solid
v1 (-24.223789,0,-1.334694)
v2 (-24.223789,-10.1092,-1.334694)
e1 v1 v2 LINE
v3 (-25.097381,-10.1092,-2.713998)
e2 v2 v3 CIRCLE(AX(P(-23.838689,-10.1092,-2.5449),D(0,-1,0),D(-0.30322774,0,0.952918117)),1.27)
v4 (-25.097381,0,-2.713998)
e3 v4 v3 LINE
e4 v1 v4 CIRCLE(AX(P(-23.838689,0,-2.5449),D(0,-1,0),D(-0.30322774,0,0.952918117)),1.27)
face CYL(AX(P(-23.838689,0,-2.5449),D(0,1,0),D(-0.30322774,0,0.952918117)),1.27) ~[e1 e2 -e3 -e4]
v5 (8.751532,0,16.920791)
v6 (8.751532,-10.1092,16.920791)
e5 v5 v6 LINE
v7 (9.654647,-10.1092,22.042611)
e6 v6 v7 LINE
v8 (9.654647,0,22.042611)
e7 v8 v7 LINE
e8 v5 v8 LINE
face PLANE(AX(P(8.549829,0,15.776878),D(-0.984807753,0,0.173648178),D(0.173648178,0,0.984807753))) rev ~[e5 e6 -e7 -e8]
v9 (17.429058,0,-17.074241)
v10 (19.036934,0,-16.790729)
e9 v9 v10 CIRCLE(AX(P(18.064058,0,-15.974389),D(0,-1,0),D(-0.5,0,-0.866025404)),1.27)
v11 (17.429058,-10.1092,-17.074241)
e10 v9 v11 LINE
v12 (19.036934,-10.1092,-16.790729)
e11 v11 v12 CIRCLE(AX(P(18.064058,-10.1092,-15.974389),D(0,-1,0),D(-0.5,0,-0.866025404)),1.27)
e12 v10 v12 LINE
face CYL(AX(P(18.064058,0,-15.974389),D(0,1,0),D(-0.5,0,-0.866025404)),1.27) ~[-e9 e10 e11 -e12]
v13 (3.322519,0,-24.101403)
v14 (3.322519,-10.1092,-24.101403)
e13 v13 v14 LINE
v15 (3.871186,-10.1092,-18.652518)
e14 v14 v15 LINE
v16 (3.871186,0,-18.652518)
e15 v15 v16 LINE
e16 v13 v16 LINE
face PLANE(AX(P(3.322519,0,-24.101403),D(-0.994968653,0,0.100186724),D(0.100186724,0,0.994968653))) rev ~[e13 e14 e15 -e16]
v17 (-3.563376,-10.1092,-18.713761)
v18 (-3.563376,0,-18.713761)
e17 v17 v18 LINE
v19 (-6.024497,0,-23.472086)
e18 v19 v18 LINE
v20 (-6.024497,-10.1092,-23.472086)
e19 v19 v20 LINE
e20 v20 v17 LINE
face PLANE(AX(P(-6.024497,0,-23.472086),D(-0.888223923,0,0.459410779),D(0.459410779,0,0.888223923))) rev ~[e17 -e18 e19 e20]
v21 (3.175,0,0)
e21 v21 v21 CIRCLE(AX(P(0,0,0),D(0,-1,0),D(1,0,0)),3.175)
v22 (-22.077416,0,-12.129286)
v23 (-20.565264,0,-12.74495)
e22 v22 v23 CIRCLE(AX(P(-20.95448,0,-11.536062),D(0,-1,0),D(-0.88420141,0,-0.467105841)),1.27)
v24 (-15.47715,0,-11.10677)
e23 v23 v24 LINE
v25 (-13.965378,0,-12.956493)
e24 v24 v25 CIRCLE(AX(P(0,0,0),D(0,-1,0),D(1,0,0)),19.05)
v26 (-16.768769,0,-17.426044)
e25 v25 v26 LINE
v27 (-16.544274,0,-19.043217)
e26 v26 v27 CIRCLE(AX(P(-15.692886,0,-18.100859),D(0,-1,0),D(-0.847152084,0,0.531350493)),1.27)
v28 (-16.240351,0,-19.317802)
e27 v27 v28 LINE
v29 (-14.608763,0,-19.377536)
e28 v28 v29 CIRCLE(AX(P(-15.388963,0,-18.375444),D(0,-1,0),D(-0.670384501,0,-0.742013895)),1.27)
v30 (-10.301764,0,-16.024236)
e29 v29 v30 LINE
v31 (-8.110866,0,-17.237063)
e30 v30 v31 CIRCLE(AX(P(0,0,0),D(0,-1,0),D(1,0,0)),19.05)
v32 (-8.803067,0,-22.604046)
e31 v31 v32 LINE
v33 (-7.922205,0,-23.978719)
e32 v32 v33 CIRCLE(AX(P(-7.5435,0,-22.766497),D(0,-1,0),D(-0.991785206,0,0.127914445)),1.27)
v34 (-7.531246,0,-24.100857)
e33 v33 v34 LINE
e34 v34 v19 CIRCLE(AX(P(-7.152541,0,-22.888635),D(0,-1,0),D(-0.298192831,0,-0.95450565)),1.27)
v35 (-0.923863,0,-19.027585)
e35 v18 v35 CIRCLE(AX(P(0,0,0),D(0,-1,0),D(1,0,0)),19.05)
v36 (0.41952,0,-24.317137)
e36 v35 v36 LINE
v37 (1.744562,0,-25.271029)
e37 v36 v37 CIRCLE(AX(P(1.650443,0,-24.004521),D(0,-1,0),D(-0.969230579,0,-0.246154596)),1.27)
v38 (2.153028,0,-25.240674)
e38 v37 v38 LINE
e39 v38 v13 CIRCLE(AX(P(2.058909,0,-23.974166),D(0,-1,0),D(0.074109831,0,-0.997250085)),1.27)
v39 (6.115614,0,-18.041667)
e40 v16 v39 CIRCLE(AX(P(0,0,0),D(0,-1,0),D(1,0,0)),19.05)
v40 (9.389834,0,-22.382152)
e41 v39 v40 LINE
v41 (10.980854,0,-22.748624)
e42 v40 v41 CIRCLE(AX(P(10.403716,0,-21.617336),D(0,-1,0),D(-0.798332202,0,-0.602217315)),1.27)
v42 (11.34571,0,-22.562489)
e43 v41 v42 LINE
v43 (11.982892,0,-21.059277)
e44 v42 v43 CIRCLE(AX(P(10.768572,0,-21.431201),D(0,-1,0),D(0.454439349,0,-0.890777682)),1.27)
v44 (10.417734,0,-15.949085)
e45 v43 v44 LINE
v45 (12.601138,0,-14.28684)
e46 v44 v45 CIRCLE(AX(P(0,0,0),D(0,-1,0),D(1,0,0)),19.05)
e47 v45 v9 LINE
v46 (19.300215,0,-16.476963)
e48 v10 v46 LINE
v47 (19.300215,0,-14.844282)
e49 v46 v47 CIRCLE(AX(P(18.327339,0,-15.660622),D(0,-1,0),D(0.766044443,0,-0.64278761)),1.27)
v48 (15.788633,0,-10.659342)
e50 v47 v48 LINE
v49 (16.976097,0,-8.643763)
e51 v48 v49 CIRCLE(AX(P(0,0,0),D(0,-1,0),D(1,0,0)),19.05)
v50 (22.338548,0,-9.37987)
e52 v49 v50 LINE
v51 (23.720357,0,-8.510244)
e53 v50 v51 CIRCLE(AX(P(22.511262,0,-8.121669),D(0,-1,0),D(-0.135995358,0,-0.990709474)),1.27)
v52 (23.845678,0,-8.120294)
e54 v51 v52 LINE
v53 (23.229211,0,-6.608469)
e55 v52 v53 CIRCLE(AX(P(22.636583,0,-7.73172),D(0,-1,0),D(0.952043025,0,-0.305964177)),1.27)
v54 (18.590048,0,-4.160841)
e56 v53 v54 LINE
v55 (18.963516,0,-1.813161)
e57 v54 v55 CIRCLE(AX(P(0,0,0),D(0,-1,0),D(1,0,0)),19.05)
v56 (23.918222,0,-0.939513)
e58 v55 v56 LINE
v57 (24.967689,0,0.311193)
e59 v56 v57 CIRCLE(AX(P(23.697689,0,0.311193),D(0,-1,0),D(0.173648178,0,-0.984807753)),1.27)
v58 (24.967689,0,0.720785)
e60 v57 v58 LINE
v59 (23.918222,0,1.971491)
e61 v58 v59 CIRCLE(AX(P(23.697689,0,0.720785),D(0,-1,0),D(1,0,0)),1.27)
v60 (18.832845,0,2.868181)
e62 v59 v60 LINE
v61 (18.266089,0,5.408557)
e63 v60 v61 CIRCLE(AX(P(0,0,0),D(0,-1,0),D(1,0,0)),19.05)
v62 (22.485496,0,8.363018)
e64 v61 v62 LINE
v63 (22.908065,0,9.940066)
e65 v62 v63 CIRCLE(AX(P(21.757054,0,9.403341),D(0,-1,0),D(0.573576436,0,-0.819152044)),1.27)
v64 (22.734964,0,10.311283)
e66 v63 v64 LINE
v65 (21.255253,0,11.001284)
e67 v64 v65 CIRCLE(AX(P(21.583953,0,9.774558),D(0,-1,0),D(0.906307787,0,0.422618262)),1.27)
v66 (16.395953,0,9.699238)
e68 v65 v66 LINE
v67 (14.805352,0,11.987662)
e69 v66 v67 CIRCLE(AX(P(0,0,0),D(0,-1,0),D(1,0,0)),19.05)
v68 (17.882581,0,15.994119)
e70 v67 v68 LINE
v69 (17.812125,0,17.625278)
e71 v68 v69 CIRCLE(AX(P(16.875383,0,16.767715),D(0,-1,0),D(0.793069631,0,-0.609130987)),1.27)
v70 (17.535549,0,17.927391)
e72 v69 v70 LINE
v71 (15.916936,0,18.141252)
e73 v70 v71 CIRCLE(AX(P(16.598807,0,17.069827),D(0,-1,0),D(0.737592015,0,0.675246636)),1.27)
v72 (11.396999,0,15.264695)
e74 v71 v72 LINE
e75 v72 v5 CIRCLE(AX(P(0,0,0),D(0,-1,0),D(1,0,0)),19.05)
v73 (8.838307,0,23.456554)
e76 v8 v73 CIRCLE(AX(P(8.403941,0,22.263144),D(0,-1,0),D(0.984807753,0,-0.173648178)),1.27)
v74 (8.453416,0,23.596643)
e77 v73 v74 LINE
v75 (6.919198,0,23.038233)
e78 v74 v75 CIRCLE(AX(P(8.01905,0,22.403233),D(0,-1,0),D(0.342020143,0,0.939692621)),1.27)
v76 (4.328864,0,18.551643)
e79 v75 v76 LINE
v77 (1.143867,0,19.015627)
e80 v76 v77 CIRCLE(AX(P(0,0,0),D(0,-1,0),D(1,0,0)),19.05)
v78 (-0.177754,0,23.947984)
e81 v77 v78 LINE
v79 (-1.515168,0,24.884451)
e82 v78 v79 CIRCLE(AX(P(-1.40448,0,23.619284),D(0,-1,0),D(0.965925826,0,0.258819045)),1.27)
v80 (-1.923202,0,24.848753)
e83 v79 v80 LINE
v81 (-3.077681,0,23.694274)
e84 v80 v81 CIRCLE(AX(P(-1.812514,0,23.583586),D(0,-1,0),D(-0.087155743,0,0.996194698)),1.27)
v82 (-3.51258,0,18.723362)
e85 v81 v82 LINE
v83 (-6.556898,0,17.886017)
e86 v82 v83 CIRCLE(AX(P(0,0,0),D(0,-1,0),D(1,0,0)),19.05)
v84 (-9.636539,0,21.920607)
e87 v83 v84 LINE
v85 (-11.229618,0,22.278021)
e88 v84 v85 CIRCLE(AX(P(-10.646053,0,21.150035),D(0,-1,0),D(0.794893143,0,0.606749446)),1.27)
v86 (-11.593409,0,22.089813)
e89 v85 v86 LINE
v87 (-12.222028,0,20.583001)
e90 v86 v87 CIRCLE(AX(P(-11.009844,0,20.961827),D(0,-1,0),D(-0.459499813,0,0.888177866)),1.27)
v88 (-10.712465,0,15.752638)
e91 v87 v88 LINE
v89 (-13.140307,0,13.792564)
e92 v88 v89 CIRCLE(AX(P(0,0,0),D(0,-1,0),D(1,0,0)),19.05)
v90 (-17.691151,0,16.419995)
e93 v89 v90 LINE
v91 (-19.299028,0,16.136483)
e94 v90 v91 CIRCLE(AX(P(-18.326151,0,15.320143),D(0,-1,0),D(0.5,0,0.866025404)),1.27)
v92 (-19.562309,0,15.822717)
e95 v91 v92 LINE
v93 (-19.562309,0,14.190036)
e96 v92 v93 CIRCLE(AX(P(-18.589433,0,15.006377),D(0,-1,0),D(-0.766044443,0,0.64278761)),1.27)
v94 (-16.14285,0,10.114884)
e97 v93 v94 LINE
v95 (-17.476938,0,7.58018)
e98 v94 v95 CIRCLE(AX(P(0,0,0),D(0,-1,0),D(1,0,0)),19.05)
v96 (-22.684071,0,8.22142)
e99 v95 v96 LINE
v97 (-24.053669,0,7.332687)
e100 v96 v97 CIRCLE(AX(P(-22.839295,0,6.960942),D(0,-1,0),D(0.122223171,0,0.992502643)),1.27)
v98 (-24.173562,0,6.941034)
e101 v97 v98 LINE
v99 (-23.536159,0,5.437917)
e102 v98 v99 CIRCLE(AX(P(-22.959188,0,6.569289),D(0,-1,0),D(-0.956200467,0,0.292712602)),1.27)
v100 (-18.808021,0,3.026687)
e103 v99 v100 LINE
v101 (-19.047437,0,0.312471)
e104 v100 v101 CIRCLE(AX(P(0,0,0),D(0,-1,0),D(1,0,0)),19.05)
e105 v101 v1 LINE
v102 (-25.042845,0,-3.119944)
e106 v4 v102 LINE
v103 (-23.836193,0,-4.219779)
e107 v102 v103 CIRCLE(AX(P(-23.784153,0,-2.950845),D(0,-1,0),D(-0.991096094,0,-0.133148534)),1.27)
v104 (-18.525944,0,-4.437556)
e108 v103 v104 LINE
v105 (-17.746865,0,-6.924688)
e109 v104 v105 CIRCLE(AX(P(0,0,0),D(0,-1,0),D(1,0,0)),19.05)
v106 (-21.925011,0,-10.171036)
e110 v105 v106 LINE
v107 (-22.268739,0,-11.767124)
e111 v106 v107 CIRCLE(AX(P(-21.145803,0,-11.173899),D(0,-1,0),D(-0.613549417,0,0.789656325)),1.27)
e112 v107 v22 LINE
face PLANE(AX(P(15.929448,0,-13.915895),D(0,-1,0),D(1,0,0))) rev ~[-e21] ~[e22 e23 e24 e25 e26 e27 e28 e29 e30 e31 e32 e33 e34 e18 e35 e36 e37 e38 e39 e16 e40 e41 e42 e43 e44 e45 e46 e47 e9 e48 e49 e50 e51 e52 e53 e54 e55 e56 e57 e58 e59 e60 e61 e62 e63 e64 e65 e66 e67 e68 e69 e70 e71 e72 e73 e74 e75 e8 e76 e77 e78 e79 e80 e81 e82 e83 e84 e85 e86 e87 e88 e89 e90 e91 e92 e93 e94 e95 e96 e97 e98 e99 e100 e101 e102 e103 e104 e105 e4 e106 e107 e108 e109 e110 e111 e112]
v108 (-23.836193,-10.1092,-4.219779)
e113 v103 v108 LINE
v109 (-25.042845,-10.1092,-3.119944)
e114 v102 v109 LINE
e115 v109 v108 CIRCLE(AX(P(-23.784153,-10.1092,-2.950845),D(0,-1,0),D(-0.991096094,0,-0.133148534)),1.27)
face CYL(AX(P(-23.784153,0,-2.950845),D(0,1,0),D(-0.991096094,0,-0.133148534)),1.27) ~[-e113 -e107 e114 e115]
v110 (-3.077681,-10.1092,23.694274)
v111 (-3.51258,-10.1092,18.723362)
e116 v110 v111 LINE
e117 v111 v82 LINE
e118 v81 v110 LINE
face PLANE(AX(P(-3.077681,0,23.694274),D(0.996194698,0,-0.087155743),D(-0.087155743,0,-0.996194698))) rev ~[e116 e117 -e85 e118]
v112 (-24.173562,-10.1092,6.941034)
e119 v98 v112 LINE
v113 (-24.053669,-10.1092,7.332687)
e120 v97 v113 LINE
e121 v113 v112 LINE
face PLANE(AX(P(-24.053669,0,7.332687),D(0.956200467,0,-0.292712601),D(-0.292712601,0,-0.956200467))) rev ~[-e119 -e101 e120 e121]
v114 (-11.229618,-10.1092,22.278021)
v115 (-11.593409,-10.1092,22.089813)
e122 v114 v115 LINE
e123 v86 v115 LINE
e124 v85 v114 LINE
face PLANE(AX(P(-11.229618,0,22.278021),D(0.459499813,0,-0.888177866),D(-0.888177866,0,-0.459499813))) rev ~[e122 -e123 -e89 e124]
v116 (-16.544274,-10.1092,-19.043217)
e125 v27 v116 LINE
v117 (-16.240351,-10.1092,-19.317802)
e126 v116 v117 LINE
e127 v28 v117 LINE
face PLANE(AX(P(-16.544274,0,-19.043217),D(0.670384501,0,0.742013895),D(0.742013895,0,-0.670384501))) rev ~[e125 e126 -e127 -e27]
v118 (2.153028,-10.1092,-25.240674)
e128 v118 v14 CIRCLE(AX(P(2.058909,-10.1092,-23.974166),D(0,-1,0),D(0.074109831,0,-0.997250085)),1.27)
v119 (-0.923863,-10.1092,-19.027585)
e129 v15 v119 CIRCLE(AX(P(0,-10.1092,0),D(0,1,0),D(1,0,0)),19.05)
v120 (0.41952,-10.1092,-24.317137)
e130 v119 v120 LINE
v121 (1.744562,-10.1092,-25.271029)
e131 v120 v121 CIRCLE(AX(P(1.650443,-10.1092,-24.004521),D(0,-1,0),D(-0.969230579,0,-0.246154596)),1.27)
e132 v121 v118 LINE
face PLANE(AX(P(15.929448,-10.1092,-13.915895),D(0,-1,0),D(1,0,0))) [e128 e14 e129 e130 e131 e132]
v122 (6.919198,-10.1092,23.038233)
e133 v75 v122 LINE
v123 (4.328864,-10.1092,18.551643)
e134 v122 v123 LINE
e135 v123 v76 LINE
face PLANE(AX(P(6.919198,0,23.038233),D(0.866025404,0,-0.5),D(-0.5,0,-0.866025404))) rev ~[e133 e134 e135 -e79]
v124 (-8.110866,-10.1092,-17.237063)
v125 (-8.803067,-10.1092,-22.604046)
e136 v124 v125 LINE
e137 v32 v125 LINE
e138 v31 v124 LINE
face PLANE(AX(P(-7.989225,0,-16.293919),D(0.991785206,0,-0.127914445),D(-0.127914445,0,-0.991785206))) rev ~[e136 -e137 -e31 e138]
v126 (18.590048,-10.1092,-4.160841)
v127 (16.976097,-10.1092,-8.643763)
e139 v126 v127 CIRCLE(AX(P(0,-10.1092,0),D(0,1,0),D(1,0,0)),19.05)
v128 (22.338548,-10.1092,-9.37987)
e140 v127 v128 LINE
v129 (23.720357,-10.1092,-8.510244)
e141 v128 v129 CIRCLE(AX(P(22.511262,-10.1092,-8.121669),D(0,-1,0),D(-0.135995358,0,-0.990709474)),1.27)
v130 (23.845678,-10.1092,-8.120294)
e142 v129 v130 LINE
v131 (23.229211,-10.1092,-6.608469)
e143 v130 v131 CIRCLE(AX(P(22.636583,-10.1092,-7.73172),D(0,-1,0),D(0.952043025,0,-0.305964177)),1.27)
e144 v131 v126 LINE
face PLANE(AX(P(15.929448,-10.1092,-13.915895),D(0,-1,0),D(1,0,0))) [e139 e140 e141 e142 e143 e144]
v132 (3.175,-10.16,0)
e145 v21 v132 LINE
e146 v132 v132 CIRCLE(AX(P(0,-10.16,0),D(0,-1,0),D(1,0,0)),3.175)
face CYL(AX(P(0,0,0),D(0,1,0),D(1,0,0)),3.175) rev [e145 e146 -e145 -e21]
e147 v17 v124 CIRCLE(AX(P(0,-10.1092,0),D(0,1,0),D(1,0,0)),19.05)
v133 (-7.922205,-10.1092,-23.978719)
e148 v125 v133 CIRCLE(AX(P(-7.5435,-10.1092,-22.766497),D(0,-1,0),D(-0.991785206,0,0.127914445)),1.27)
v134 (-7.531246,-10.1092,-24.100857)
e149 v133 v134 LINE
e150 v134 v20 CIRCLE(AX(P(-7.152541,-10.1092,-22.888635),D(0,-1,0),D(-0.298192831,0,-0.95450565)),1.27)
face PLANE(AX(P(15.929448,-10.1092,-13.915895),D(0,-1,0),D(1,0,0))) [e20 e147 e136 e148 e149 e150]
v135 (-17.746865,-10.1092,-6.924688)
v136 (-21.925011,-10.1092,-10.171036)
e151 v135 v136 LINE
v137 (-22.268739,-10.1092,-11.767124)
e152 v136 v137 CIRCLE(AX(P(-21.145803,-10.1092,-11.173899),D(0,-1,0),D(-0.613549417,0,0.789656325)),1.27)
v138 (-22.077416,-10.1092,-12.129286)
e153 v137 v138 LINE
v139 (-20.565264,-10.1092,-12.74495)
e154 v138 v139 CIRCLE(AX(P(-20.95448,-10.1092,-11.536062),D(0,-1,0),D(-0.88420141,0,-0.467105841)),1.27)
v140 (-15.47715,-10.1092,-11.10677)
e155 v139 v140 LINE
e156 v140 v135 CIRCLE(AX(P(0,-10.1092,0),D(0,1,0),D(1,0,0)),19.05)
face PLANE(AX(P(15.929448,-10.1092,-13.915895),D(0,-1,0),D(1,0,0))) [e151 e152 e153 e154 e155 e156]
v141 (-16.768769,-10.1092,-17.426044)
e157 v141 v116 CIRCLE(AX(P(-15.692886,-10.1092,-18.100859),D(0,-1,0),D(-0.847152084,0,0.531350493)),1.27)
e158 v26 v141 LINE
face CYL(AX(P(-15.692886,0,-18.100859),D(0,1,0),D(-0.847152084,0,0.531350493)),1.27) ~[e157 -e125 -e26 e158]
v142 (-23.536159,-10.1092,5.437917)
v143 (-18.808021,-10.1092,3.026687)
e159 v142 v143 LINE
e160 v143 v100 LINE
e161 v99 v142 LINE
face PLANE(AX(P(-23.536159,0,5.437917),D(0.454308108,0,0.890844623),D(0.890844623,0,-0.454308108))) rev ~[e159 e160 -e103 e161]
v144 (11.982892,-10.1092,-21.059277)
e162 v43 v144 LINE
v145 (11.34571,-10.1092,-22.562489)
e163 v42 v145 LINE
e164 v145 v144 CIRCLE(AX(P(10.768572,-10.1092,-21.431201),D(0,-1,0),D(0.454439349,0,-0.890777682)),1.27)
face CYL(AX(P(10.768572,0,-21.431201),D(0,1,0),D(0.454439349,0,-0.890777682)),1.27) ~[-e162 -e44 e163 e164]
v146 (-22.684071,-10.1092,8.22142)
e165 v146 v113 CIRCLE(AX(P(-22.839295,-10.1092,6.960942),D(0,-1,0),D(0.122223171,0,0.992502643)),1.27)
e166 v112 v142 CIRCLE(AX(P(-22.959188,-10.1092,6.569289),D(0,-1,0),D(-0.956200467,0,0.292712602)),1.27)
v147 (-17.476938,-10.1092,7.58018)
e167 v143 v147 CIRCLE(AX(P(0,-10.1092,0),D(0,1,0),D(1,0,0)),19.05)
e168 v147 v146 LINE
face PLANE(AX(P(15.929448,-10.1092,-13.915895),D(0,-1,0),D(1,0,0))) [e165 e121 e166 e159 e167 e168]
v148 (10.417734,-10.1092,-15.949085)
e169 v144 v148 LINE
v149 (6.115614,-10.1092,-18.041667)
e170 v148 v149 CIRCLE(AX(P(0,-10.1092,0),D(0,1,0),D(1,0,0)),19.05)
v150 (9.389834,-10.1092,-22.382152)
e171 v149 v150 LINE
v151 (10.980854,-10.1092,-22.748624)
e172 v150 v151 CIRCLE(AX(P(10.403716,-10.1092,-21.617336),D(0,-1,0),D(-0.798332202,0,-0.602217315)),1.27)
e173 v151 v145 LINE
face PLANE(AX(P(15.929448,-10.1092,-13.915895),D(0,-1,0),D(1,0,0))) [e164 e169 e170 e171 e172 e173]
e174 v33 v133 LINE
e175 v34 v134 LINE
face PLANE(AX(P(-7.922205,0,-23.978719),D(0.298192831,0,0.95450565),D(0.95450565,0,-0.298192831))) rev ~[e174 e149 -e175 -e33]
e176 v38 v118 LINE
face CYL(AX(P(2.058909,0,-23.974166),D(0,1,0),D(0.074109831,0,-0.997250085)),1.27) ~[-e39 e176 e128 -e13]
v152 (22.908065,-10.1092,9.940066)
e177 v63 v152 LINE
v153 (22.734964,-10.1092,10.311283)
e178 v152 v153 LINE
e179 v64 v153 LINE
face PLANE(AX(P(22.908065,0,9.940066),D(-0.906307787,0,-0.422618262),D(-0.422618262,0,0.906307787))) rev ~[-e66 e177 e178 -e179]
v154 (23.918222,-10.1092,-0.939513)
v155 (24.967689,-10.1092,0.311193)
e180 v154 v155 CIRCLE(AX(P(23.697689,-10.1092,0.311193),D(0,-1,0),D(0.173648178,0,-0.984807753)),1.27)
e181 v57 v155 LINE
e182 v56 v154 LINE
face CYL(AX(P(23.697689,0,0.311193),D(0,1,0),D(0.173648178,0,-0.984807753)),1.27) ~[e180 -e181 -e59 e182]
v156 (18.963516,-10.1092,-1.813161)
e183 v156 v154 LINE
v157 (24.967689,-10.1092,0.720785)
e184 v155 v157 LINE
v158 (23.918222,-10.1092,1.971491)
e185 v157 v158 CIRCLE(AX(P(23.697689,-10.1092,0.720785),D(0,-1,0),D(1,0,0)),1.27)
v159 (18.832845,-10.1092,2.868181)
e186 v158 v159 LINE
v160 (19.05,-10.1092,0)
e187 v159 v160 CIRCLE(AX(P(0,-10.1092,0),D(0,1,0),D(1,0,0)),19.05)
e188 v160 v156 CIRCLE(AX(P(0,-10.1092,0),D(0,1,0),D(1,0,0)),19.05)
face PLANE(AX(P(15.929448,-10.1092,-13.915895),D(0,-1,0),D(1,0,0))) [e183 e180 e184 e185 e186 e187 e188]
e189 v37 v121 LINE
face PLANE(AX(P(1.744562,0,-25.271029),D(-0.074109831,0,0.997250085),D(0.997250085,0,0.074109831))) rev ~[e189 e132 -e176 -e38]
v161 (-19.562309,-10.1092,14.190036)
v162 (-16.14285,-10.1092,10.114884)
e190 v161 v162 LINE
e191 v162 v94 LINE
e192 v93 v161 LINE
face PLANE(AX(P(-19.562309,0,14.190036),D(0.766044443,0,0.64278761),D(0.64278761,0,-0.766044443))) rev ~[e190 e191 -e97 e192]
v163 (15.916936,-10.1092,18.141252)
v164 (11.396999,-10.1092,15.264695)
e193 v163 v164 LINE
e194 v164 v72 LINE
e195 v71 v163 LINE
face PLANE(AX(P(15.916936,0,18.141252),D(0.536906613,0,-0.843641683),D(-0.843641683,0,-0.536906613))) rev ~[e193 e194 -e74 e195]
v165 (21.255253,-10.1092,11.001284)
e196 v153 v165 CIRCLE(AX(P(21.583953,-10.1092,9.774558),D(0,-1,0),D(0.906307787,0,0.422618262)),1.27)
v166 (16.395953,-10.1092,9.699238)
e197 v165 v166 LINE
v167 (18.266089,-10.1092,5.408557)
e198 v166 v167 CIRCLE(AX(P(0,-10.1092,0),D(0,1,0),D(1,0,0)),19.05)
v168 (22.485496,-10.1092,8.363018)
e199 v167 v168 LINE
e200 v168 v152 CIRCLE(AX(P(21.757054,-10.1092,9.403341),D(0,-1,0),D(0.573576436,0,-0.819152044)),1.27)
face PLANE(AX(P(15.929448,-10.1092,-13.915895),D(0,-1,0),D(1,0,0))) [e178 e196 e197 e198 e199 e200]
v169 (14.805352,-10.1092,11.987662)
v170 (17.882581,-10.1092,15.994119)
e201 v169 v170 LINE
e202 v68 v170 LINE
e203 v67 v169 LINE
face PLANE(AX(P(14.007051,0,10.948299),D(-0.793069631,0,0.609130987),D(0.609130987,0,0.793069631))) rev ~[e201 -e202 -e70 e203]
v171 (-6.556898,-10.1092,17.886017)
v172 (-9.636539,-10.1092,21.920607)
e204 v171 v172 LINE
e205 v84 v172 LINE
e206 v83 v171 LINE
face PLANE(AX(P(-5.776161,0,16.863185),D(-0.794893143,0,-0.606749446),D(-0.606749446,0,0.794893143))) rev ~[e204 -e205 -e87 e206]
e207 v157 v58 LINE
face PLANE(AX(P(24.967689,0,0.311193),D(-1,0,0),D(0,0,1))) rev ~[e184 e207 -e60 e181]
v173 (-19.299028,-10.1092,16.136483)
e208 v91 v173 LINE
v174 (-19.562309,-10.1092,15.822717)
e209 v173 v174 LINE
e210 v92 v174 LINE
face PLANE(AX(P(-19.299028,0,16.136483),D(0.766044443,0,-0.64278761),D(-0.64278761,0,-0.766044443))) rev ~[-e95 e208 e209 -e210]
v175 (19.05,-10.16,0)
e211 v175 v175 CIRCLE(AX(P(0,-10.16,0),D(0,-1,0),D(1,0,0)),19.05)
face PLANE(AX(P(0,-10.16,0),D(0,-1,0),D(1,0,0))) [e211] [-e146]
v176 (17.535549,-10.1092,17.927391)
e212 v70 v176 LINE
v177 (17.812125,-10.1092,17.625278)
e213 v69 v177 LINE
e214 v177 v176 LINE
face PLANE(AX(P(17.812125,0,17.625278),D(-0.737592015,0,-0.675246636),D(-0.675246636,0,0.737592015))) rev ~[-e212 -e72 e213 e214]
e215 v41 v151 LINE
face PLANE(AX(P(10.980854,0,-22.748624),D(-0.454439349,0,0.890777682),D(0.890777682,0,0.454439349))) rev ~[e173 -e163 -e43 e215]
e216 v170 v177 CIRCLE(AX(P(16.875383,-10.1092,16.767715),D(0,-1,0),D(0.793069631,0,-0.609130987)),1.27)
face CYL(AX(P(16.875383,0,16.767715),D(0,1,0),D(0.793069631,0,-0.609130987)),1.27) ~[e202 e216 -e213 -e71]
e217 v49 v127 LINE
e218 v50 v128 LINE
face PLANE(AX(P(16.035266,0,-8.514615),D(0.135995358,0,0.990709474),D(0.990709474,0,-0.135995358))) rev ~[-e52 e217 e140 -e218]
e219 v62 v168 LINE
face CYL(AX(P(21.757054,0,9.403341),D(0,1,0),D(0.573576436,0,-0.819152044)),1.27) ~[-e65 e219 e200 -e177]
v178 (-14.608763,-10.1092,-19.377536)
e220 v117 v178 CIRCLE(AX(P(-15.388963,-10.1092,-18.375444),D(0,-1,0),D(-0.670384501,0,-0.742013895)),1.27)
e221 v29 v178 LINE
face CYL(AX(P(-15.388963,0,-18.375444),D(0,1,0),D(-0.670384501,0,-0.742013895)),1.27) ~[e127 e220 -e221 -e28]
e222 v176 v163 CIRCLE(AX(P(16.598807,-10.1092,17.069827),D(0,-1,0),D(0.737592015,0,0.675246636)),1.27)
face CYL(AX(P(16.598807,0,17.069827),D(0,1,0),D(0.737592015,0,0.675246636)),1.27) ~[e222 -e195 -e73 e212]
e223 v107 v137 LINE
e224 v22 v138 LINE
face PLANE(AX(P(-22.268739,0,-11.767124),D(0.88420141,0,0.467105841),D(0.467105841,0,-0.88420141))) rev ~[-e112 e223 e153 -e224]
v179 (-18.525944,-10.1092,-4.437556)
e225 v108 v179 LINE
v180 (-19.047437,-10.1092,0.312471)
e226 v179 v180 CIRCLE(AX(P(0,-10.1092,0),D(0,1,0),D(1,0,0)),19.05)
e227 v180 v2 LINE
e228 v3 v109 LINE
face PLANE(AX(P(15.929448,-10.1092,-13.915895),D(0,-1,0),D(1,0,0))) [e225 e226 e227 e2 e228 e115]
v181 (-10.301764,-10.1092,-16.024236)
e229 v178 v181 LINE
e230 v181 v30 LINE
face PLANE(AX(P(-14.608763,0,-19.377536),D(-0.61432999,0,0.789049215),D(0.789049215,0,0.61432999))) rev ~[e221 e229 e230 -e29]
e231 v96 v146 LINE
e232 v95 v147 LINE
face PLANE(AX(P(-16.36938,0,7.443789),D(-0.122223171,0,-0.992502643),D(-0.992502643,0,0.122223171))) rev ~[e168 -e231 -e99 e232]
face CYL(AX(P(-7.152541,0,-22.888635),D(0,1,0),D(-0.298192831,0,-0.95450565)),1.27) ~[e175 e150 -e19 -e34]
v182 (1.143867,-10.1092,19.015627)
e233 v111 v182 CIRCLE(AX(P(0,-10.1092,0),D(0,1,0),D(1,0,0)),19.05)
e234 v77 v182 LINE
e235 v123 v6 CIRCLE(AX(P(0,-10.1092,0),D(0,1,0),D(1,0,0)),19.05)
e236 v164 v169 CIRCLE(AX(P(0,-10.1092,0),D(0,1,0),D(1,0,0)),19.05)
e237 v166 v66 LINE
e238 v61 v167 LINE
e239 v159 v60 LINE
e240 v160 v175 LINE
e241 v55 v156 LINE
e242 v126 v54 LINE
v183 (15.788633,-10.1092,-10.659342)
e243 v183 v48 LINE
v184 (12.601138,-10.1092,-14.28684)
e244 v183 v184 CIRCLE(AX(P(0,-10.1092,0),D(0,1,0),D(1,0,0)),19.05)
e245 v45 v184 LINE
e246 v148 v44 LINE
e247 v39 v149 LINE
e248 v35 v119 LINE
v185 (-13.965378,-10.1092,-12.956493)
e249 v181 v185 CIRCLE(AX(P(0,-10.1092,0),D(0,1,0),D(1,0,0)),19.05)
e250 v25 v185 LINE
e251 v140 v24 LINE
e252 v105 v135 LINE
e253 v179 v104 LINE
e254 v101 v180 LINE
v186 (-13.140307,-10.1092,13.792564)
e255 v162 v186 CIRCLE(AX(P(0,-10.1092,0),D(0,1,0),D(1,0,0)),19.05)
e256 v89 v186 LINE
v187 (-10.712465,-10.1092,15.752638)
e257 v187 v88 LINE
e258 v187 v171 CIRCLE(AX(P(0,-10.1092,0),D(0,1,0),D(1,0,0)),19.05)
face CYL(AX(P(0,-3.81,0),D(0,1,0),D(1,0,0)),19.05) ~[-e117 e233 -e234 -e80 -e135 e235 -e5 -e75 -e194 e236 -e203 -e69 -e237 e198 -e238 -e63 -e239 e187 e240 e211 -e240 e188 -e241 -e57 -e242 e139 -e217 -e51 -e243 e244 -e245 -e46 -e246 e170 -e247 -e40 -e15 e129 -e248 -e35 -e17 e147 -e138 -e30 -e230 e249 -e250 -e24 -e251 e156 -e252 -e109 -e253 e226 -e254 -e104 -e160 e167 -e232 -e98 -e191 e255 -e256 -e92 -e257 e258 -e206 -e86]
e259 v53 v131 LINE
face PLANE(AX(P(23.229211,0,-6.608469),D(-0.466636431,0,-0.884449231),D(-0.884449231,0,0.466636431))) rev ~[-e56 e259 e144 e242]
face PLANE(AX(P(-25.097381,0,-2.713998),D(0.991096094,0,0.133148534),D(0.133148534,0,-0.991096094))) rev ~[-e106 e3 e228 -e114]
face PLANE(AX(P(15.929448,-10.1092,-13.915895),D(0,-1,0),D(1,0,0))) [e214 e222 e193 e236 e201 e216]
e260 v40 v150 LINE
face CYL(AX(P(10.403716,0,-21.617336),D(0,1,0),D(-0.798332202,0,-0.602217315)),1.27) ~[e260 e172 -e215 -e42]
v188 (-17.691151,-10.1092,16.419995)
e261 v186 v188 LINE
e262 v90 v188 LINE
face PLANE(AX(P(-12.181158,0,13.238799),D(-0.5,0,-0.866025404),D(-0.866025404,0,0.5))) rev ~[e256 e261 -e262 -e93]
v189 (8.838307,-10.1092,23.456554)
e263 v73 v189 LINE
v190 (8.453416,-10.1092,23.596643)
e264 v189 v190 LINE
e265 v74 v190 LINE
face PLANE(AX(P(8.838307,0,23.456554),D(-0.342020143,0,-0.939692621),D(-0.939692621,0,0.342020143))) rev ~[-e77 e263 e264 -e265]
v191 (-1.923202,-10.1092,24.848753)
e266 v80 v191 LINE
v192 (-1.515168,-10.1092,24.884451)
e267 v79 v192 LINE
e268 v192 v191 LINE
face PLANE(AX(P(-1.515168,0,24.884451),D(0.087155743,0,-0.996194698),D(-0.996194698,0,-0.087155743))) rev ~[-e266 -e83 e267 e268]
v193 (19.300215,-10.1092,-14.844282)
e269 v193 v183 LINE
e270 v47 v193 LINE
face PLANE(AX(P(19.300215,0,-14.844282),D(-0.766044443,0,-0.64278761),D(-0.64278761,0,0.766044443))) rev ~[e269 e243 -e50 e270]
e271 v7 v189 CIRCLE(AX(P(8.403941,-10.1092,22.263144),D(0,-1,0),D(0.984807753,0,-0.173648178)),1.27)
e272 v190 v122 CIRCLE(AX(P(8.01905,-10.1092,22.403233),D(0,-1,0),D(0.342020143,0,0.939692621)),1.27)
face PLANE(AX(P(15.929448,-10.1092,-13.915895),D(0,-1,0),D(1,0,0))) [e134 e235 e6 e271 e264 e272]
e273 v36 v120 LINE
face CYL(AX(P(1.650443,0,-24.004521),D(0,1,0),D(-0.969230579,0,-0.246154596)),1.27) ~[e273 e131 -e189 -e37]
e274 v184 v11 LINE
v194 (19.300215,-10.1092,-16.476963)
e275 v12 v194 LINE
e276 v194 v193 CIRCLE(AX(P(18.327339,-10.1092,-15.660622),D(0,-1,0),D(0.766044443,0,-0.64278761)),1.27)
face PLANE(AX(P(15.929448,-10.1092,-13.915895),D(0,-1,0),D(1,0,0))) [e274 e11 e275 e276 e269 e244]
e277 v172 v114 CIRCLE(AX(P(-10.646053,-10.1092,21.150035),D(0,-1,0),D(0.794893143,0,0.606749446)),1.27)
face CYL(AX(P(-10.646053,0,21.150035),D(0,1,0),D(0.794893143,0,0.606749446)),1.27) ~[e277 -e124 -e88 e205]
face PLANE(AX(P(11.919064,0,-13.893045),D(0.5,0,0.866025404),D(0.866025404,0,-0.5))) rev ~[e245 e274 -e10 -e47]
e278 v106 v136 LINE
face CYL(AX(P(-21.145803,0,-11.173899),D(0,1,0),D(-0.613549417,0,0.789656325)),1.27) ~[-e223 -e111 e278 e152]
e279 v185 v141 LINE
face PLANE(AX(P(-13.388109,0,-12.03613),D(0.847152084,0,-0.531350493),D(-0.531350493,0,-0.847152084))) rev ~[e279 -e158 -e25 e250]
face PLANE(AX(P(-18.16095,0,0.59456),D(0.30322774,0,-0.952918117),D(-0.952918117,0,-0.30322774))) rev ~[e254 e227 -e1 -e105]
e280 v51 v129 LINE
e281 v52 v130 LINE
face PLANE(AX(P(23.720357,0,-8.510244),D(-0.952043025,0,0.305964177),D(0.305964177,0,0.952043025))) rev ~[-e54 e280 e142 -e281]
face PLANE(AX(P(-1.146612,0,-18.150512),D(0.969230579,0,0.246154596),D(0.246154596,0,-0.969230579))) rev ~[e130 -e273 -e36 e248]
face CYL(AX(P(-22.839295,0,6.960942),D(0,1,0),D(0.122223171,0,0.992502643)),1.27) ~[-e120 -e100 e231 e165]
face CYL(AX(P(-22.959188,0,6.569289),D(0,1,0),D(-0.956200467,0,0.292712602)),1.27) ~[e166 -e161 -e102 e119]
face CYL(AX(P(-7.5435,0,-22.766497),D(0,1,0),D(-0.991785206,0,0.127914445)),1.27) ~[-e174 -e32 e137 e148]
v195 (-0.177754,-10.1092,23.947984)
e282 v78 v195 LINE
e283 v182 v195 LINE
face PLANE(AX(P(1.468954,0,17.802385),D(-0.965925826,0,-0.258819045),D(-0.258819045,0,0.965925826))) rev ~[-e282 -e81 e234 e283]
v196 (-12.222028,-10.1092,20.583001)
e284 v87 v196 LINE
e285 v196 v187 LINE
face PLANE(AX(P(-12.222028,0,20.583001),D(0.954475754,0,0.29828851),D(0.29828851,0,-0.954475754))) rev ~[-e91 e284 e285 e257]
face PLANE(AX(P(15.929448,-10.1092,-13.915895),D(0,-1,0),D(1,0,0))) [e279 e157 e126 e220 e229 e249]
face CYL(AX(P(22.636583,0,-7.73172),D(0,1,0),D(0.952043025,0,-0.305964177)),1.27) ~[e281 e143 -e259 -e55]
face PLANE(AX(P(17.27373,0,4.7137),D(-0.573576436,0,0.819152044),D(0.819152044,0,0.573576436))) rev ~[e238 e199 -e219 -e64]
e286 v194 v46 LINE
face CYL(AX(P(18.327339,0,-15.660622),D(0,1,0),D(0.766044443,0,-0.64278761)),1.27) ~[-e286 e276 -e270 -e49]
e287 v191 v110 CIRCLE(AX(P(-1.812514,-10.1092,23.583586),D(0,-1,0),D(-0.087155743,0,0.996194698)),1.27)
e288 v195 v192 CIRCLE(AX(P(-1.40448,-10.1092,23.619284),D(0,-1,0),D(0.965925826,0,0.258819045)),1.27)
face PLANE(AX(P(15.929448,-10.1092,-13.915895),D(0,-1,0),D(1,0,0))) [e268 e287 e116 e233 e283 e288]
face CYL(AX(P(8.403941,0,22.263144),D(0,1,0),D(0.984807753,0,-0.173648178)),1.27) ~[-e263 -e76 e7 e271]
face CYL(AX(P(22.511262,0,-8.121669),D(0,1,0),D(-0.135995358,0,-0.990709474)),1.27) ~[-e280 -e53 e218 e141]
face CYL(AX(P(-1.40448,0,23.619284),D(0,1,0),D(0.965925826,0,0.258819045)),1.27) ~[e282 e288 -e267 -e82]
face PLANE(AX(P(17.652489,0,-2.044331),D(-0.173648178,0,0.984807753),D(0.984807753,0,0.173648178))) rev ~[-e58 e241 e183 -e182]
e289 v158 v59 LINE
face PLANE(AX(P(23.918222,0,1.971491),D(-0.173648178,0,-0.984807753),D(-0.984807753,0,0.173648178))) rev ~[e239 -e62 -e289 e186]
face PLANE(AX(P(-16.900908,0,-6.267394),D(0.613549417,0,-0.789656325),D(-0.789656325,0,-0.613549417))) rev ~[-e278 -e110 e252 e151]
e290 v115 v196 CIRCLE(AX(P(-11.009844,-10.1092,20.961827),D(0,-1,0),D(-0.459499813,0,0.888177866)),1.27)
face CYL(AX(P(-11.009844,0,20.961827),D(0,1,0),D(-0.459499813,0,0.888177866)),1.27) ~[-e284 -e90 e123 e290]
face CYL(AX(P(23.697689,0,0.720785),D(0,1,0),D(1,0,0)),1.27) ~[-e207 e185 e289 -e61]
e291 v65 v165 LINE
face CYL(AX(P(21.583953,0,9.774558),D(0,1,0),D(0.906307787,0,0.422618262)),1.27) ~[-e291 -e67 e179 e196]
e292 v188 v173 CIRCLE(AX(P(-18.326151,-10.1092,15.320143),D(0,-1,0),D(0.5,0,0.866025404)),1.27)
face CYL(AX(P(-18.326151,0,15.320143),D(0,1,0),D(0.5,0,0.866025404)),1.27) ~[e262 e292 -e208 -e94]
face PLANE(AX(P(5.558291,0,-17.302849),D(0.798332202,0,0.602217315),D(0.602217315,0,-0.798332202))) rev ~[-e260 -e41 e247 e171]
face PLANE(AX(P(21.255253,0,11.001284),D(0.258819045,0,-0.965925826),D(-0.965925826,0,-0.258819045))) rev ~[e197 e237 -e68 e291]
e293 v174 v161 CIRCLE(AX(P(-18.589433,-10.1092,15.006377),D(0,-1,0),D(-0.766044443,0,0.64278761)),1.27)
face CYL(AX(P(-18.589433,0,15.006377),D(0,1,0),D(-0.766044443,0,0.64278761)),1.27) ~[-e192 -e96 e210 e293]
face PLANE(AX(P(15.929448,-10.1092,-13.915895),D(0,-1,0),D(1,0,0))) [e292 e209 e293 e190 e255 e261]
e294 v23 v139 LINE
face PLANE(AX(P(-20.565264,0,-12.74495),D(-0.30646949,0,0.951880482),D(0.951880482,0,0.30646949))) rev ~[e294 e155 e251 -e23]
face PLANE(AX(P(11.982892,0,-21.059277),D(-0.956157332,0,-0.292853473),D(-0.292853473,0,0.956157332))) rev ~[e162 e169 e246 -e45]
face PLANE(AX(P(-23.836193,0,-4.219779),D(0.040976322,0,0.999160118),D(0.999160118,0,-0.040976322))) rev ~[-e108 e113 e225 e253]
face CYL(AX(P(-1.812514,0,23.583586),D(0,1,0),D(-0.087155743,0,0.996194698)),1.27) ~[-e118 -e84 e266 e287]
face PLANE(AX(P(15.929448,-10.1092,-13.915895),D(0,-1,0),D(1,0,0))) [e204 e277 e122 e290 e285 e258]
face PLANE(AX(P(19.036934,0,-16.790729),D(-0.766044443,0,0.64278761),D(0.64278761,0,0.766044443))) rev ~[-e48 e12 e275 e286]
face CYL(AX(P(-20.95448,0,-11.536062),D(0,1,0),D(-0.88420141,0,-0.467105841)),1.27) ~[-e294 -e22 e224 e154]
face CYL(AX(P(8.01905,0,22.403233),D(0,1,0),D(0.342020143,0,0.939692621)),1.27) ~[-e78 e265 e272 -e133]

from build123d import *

# Parameters (mm, degrees)
F0_R     = 19.05
F0_R_2   = 3.175
F1_DEPTH = 3.81
F3_DEPTH = 3.7338
F5_DEPTH = 6.35
F6_DEPTH = 10.1092


with BuildPart() as f1:
    # F0 (on Front) → F1 (new body)
    with BuildSketch(Plane.XZ):
        Circle(F0_R)
        Circle(F0_R_2, mode=Mode.SUBTRACT)
    extrude(amount=F1_DEPTH)

    # F2 (on Front) → F3, piece 2 (join)
    with BuildSketch(Plane.XZ):
        with BuildLine():
            Line((19.3002153026, -14.8442822065), (15.2105484158, -9.9704070017))
            Line((15.2105484158, -9.9704070017), (11.9190644701, -13.8930448189))
            Line((11.9190644701, -13.8930448189), (17.4290577612, -17.0742409287))
            ThreePointArc((17.4290577612, -17.0742409287), (18.2845909468, -17.2250945122), (19.036934204, -16.7907289302))
            Line((19.036934204, -16.7907289302), (19.3002153026, -16.4769627351))
            ThreePointArc((19.3002153026, -16.4769627351), (19.5973388598, -15.6606224708), (19.3002153026, -14.8442822065))
        make_face()
        with BuildLine():
            Line((11.9828917218, -21.0592770188), (10.1196430624, -14.9758290499))
            Line((10.1196430624, -14.9758290499), (5.5582912351, -17.3028493588))
            Line((5.5582912351, -17.3028493588), (9.3898339973, -22.3821519505))
            ThreePointArc((9.3898339973, -22.3821519505), (10.1186515435, -22.8549297204), (10.9808538675, -22.7486236155))
            Line((10.9808538675, -22.7486236155), (11.3457098838, -22.5624885854))
            ThreePointArc((11.3457098838, -22.5624885854), (11.9378629358, -21.9268404135), (11.9828917218, -21.0592770188))
        make_face()
        with BuildLine():
            Line((3.3225191024, -24.1014032107), (3.9599463344, -17.7710223943))
            Line((3.9599463344, -17.7710223943), (-1.1466123432, -18.1505121598))
            Line((-1.1466123432, -18.1505121598), (0.4195197448, -24.3171372529))
            ThreePointArc((0.4195197448, -24.3171372529), (0.9084468903, -25.0352208705), (1.7445620653, -25.2710285242))
            Line((1.7445620653, -25.2710285242), (2.1530283986, -25.24067368))
            ThreePointArc((2.1530283986, -25.24067368), (2.9451040203, -24.8838683481), (3.3225191024, -24.1014032107))
        make_face()
        with BuildLine():
            Line((-6.024496716, -23.4720864394), (-3.1015451532, -17.8208574653))
            Line((-3.1015451532, -17.8208574653), (-7.9892249639, -16.2939193272))
            Line((-7.9892249639, -16.2939193272), (-8.8030668347, -22.604045805))
            ThreePointArc((-8.8030668347, -22.604045805), (-8.6128057983, -23.4516863972), (-7.9222045185, -23.9787193257))
            Line((-7.9222045185, -23.9787193257), (-7.531245993, -24.100856926))
            ThreePointArc((-7.531245993, -24.100856926), (-6.6634444839, -24.0606776264), (-6.024496716, -23.4720864394))
        make_face()
        with BuildLine():
            Line((-14.6087634205, -19.377536382), (-9.5885228366, -15.4689280316))
            Line((-9.5885228366, -15.4689280316), (-13.3881088706, -12.0361303417))
            Line((-13.3881088706, -12.0361303417), (-16.7687691136, -17.4260441702))
            ThreePointArc((-16.7687691136, -17.4260441702), (-16.9508230748, -18.275485275), (-16.5442742828, -19.0432169437))
            Line((-16.5442742828, -19.0432169437), (-16.2403508241, -19.3178015268))
            ThreePointArc((-16.2403508241, -19.3178015268), (-15.4354279769, -19.6445935792), (-14.6087634205, -19.377536382))
        make_face()
        with BuildLine():
            Line((-20.5652638633, -12.7449498911), (-14.5090268925, -10.7950707898))
            Line((-14.5090268925, -10.7950707898), (-16.9009077473, -6.2673936827))
            Line((-16.9009077473, -6.2673936827), (-21.9250110088, -10.1710357224))
            ThreePointArc((-21.9250110088, -10.1710357224), (-22.3873392768, -10.9065263124), (-22.2687390391, -11.7671236741))
            Line((-22.2687390391, -11.7671236741), (-22.0774159066, -12.1292860977))
            ThreePointArc((-22.0774159066, -12.1292860977), (-21.4333815325, -12.7123071611), (-20.5652638633, -12.7449498911))
        make_face()
        with BuildLine():
            Line((-23.8361925967, -4.2197788404), (-17.4791440368, -4.48048627))
            Line((-17.4791440368, -4.48048627), (-18.1609497484, 0.5945600333))
            Line((-18.1609497484, 0.5945600333), (-24.2237885625, -1.3346937785))
            ThreePointArc((-24.2237885625, -1.3346937785), (-24.9115978854, -1.8653652124), (-25.0973813726, -2.713998426))
            Line((-25.0973813726, -2.713998426), (-25.0428447078, -3.1199441296))
            ThreePointArc((-25.0428447078, -3.1199441296), (-24.6396722009, -3.8894542108), (-23.8361925967, -4.2197788404))
        make_face()
        with BuildLine():
            Line((-23.5361590974, 5.4379167113), (-17.8682561964, 2.5474303402))
            Line((-17.8682561964, 2.5474303402), (-16.3693803408, 7.4437886991))
            Line((-16.3693803408, 7.4437886991), (-22.6840714351, 8.2214204499))
            ThreePointArc((-22.6840714351, 8.2214204499), (-23.5306066884, 8.0263002296), (-24.053669455, 7.3326870971))
            Line((-24.053669455, 7.3326870971), (-24.1735623934, 6.9410343869))
            ThreePointArc((-24.1735623934, 6.9410343869), (-24.1284057917, 6.0734776356), (-23.5361590974, 5.4379167113))
        make_face()
        with BuildLine():
            Line((-19.5623090328, 14.1900364797), (-15.4726421461, 9.3161612749))
            Line((-15.4726421461, 9.3161612749), (-12.1811582004, 13.2387990921))
            Line((-12.1811582004, 13.2387990921), (-17.6911514915, 16.419995202))
            ThreePointArc((-17.6911514915, 16.419995202), (-18.5466846771, 16.5708487855), (-19.2990279342, 16.1364832035))
            Line((-19.2990279342, 16.1364832035), (-19.5623090328, 15.8227170083))
            ThreePointArc((-19.5623090328, 15.8227170083), (-19.8594325901, 15.006376744), (-19.5623090328, 14.1900364797))
        make_face()
        with BuildLine():
            Line((-12.2220281822, 20.5830006913), (-10.324199684, 14.5102515817))
            Line((-10.324199684, 14.5102515817), (-5.7761605757, 16.8631847042))
            Line((-5.7761605757, 16.8631847042), (-9.6365385319, 21.9206066554))
            ThreePointArc((-9.6365385319, 21.9206066554), (-10.3680340136, 22.3892303804), (-11.2296175865, 22.2780207486))
            Line((-11.2296175865, 22.2780207486), (-11.5934087375, 22.0898129895))
            ThreePointArc((-11.5934087375, 22.0898129895), (-12.1819358724, 21.4508062237), (-12.2220281822, 20.5830006913))
        make_face()
        with BuildLine():
            Line((-3.0776811638, 23.6942735067), (-3.6322001833, 17.3560921103))
            Line((-3.6322001833, 17.3560921103), (1.4689542355, 17.8023852928))
            Line((1.4689542355, 17.8023852928), (-0.1777540434, 23.9479842548))
            ThreePointArc((-0.1777540434, 23.9479842548), (-0.6760377686, 24.6596071637), (-1.5151676361, 24.8844513341))
            Line((-1.5151676361, 24.8844513341), (-1.9232016905, 24.84875298))
            ThreePointArc((-1.9232016905, 24.84875298), (-2.7105395093, 24.4816113255), (-3.0776811638, 23.6942735067))
        make_face()
        with BuildLine():
            Line((6.9191977973, 23.0382329287), (3.7380016875, 17.5282396376))
            Line((3.7380016875, 17.5282396376), (8.5498293092, 15.7768776109))
            Line((8.5498293092, 15.7768776109), (9.6546471237, 22.0426107965))
            ThreePointArc((9.6546471237, 22.0426107965), (9.5037935402, 22.8981439822), (8.8383068594, 23.4565536106))
            Line((8.8383068594, 23.4565536106), (8.4534156421, 23.5966425571))
            ThreePointArc((8.4534156421, 23.5966425571), (7.5846844781, 23.5966425571), (6.9191977973, 23.0382329287))
        make_face()
        with BuildLine():
            Line((15.9169355088, 18.1412522665), (10.5493562296, 14.7252418101))
            Line((10.5493562296, 14.7252418101), (14.0070511629, 10.9482986337))
            Line((14.0070511629, 10.9482986337), (17.8825814171, 15.9941186865))
            ThreePointArc((17.8825814171, 15.9941186865), (18.1441998983, 16.8225205248), (17.8121248444, 17.6252782679))
            Line((17.8121248444, 17.6252782679), (17.5355487664, 17.9273905568))
            ThreePointArc((17.5355487664, 17.9273905568), (16.7651617859, 18.328884935), (15.9169355088, 18.1412522665))
        make_face()
        with BuildLine():
            Line((21.2552525466, 11.001283816), (15.1096535847, 9.3545755371))
            Line((15.1096535847, 9.3545755371), (17.2737295605, 4.7136996305))
            Line((17.2737295605, 4.7136996305), (22.4854961538, 8.3630178866))
            ThreePointArc((22.4854961538, 8.3630178866), (22.983779879, 9.0746407955), (22.9080649691, 9.9400661752))
            Line((22.9080649691, 9.9400661752), (22.7349636234, 10.311283209))
            ThreePointArc((22.7349636234, 10.311283209), (22.1206779263, 10.9255689062), (21.2552525466, 11.001283816))
        make_face()
        with BuildLine():
            Line((23.9182224306, 1.9714912908), (17.6524892449, 3.0763091054))
            Line((17.6524892449, 3.0763091054), (17.6524892449, -2.0443308946))
            Line((17.6524892449, -2.0443308946), (23.9182224306, -0.9395130801))
            ThreePointArc((23.9182224306, -0.9395130801), (24.6705656877, -0.505147498), (24.9676892449, 0.3111927663))
            Line((24.9676892449, 0.3111927663), (24.9676892449, 0.7207854445))
            ThreePointArc((24.9676892449, 0.7207854445), (24.6705656877, 1.5371257088), (23.9182224306, 1.9714912908))
        make_face()
        with BuildLine():
            Line((23.229211427, -6.6084690539), (17.6019985229, -3.6395450588))
            Line((17.6019985229, -3.6395450588), (16.0352661171, -8.5146146561))
            Line((16.0352661171, -8.5146146561), (22.338548369, -9.379870462))
            ThreePointArc((22.338548369, -9.379870462), (23.1877118276, -9.196525825), (23.7203571155, -8.5102439349))
            Line((23.7203571155, -8.5102439349), (23.8456778024, -8.1202940823))
            ThreePointArc((23.8456778024, -8.1202940823), (23.8125742696, -7.2521938626), (23.229211427, -6.6084690539))
        make_face()
    extrude(amount=F3_DEPTH)

    # F5 (add): a face of the model
    f5_faces = [f1.faces().sort_by_distance(p)[0] for p in [
        (-18.5111846327, -3.81, 0),
    ]]
    extrude(f5_faces, amount=F5_DEPTH)

    # F6 (add): a face of the model
    f6_faces = [f1.faces().sort_by_distance(p)[0] for p in [
        (24.1275892459, 0, -0.049536166),
    ]]
    extrude(f6_faces, amount=-F6_DEPTH)


with BuildPart() as f3:
    # F2 (on Front) → F3 (new body)
    with BuildSketch(Plane.XZ):
        with BuildLine():
            Line((-44.3880631869, 14.6072879799), (-45.4928810014, 8.3415547942))
            Line((-45.4928810014, 8.3415547942), (-40.3722410014, 8.3415547942))
            Line((-40.3722410014, 8.3415547942), (-41.477058816, 14.6072879799))
            ThreePointArc((-41.477058816, 14.6072879799), (-41.911424398, 15.359631237), (-42.7277646623, 15.6567547942))
            Line((-42.7277646623, 15.6567547942), (-43.1373573405, 15.6567547942))
            ThreePointArc((-43.1373573405, 15.6567547942), (-43.9536976048, 15.359631237), (-44.3880631869, 14.6072879799))
        make_face()
    extrude(amount=F3_DEPTH)


solid = f1.part
